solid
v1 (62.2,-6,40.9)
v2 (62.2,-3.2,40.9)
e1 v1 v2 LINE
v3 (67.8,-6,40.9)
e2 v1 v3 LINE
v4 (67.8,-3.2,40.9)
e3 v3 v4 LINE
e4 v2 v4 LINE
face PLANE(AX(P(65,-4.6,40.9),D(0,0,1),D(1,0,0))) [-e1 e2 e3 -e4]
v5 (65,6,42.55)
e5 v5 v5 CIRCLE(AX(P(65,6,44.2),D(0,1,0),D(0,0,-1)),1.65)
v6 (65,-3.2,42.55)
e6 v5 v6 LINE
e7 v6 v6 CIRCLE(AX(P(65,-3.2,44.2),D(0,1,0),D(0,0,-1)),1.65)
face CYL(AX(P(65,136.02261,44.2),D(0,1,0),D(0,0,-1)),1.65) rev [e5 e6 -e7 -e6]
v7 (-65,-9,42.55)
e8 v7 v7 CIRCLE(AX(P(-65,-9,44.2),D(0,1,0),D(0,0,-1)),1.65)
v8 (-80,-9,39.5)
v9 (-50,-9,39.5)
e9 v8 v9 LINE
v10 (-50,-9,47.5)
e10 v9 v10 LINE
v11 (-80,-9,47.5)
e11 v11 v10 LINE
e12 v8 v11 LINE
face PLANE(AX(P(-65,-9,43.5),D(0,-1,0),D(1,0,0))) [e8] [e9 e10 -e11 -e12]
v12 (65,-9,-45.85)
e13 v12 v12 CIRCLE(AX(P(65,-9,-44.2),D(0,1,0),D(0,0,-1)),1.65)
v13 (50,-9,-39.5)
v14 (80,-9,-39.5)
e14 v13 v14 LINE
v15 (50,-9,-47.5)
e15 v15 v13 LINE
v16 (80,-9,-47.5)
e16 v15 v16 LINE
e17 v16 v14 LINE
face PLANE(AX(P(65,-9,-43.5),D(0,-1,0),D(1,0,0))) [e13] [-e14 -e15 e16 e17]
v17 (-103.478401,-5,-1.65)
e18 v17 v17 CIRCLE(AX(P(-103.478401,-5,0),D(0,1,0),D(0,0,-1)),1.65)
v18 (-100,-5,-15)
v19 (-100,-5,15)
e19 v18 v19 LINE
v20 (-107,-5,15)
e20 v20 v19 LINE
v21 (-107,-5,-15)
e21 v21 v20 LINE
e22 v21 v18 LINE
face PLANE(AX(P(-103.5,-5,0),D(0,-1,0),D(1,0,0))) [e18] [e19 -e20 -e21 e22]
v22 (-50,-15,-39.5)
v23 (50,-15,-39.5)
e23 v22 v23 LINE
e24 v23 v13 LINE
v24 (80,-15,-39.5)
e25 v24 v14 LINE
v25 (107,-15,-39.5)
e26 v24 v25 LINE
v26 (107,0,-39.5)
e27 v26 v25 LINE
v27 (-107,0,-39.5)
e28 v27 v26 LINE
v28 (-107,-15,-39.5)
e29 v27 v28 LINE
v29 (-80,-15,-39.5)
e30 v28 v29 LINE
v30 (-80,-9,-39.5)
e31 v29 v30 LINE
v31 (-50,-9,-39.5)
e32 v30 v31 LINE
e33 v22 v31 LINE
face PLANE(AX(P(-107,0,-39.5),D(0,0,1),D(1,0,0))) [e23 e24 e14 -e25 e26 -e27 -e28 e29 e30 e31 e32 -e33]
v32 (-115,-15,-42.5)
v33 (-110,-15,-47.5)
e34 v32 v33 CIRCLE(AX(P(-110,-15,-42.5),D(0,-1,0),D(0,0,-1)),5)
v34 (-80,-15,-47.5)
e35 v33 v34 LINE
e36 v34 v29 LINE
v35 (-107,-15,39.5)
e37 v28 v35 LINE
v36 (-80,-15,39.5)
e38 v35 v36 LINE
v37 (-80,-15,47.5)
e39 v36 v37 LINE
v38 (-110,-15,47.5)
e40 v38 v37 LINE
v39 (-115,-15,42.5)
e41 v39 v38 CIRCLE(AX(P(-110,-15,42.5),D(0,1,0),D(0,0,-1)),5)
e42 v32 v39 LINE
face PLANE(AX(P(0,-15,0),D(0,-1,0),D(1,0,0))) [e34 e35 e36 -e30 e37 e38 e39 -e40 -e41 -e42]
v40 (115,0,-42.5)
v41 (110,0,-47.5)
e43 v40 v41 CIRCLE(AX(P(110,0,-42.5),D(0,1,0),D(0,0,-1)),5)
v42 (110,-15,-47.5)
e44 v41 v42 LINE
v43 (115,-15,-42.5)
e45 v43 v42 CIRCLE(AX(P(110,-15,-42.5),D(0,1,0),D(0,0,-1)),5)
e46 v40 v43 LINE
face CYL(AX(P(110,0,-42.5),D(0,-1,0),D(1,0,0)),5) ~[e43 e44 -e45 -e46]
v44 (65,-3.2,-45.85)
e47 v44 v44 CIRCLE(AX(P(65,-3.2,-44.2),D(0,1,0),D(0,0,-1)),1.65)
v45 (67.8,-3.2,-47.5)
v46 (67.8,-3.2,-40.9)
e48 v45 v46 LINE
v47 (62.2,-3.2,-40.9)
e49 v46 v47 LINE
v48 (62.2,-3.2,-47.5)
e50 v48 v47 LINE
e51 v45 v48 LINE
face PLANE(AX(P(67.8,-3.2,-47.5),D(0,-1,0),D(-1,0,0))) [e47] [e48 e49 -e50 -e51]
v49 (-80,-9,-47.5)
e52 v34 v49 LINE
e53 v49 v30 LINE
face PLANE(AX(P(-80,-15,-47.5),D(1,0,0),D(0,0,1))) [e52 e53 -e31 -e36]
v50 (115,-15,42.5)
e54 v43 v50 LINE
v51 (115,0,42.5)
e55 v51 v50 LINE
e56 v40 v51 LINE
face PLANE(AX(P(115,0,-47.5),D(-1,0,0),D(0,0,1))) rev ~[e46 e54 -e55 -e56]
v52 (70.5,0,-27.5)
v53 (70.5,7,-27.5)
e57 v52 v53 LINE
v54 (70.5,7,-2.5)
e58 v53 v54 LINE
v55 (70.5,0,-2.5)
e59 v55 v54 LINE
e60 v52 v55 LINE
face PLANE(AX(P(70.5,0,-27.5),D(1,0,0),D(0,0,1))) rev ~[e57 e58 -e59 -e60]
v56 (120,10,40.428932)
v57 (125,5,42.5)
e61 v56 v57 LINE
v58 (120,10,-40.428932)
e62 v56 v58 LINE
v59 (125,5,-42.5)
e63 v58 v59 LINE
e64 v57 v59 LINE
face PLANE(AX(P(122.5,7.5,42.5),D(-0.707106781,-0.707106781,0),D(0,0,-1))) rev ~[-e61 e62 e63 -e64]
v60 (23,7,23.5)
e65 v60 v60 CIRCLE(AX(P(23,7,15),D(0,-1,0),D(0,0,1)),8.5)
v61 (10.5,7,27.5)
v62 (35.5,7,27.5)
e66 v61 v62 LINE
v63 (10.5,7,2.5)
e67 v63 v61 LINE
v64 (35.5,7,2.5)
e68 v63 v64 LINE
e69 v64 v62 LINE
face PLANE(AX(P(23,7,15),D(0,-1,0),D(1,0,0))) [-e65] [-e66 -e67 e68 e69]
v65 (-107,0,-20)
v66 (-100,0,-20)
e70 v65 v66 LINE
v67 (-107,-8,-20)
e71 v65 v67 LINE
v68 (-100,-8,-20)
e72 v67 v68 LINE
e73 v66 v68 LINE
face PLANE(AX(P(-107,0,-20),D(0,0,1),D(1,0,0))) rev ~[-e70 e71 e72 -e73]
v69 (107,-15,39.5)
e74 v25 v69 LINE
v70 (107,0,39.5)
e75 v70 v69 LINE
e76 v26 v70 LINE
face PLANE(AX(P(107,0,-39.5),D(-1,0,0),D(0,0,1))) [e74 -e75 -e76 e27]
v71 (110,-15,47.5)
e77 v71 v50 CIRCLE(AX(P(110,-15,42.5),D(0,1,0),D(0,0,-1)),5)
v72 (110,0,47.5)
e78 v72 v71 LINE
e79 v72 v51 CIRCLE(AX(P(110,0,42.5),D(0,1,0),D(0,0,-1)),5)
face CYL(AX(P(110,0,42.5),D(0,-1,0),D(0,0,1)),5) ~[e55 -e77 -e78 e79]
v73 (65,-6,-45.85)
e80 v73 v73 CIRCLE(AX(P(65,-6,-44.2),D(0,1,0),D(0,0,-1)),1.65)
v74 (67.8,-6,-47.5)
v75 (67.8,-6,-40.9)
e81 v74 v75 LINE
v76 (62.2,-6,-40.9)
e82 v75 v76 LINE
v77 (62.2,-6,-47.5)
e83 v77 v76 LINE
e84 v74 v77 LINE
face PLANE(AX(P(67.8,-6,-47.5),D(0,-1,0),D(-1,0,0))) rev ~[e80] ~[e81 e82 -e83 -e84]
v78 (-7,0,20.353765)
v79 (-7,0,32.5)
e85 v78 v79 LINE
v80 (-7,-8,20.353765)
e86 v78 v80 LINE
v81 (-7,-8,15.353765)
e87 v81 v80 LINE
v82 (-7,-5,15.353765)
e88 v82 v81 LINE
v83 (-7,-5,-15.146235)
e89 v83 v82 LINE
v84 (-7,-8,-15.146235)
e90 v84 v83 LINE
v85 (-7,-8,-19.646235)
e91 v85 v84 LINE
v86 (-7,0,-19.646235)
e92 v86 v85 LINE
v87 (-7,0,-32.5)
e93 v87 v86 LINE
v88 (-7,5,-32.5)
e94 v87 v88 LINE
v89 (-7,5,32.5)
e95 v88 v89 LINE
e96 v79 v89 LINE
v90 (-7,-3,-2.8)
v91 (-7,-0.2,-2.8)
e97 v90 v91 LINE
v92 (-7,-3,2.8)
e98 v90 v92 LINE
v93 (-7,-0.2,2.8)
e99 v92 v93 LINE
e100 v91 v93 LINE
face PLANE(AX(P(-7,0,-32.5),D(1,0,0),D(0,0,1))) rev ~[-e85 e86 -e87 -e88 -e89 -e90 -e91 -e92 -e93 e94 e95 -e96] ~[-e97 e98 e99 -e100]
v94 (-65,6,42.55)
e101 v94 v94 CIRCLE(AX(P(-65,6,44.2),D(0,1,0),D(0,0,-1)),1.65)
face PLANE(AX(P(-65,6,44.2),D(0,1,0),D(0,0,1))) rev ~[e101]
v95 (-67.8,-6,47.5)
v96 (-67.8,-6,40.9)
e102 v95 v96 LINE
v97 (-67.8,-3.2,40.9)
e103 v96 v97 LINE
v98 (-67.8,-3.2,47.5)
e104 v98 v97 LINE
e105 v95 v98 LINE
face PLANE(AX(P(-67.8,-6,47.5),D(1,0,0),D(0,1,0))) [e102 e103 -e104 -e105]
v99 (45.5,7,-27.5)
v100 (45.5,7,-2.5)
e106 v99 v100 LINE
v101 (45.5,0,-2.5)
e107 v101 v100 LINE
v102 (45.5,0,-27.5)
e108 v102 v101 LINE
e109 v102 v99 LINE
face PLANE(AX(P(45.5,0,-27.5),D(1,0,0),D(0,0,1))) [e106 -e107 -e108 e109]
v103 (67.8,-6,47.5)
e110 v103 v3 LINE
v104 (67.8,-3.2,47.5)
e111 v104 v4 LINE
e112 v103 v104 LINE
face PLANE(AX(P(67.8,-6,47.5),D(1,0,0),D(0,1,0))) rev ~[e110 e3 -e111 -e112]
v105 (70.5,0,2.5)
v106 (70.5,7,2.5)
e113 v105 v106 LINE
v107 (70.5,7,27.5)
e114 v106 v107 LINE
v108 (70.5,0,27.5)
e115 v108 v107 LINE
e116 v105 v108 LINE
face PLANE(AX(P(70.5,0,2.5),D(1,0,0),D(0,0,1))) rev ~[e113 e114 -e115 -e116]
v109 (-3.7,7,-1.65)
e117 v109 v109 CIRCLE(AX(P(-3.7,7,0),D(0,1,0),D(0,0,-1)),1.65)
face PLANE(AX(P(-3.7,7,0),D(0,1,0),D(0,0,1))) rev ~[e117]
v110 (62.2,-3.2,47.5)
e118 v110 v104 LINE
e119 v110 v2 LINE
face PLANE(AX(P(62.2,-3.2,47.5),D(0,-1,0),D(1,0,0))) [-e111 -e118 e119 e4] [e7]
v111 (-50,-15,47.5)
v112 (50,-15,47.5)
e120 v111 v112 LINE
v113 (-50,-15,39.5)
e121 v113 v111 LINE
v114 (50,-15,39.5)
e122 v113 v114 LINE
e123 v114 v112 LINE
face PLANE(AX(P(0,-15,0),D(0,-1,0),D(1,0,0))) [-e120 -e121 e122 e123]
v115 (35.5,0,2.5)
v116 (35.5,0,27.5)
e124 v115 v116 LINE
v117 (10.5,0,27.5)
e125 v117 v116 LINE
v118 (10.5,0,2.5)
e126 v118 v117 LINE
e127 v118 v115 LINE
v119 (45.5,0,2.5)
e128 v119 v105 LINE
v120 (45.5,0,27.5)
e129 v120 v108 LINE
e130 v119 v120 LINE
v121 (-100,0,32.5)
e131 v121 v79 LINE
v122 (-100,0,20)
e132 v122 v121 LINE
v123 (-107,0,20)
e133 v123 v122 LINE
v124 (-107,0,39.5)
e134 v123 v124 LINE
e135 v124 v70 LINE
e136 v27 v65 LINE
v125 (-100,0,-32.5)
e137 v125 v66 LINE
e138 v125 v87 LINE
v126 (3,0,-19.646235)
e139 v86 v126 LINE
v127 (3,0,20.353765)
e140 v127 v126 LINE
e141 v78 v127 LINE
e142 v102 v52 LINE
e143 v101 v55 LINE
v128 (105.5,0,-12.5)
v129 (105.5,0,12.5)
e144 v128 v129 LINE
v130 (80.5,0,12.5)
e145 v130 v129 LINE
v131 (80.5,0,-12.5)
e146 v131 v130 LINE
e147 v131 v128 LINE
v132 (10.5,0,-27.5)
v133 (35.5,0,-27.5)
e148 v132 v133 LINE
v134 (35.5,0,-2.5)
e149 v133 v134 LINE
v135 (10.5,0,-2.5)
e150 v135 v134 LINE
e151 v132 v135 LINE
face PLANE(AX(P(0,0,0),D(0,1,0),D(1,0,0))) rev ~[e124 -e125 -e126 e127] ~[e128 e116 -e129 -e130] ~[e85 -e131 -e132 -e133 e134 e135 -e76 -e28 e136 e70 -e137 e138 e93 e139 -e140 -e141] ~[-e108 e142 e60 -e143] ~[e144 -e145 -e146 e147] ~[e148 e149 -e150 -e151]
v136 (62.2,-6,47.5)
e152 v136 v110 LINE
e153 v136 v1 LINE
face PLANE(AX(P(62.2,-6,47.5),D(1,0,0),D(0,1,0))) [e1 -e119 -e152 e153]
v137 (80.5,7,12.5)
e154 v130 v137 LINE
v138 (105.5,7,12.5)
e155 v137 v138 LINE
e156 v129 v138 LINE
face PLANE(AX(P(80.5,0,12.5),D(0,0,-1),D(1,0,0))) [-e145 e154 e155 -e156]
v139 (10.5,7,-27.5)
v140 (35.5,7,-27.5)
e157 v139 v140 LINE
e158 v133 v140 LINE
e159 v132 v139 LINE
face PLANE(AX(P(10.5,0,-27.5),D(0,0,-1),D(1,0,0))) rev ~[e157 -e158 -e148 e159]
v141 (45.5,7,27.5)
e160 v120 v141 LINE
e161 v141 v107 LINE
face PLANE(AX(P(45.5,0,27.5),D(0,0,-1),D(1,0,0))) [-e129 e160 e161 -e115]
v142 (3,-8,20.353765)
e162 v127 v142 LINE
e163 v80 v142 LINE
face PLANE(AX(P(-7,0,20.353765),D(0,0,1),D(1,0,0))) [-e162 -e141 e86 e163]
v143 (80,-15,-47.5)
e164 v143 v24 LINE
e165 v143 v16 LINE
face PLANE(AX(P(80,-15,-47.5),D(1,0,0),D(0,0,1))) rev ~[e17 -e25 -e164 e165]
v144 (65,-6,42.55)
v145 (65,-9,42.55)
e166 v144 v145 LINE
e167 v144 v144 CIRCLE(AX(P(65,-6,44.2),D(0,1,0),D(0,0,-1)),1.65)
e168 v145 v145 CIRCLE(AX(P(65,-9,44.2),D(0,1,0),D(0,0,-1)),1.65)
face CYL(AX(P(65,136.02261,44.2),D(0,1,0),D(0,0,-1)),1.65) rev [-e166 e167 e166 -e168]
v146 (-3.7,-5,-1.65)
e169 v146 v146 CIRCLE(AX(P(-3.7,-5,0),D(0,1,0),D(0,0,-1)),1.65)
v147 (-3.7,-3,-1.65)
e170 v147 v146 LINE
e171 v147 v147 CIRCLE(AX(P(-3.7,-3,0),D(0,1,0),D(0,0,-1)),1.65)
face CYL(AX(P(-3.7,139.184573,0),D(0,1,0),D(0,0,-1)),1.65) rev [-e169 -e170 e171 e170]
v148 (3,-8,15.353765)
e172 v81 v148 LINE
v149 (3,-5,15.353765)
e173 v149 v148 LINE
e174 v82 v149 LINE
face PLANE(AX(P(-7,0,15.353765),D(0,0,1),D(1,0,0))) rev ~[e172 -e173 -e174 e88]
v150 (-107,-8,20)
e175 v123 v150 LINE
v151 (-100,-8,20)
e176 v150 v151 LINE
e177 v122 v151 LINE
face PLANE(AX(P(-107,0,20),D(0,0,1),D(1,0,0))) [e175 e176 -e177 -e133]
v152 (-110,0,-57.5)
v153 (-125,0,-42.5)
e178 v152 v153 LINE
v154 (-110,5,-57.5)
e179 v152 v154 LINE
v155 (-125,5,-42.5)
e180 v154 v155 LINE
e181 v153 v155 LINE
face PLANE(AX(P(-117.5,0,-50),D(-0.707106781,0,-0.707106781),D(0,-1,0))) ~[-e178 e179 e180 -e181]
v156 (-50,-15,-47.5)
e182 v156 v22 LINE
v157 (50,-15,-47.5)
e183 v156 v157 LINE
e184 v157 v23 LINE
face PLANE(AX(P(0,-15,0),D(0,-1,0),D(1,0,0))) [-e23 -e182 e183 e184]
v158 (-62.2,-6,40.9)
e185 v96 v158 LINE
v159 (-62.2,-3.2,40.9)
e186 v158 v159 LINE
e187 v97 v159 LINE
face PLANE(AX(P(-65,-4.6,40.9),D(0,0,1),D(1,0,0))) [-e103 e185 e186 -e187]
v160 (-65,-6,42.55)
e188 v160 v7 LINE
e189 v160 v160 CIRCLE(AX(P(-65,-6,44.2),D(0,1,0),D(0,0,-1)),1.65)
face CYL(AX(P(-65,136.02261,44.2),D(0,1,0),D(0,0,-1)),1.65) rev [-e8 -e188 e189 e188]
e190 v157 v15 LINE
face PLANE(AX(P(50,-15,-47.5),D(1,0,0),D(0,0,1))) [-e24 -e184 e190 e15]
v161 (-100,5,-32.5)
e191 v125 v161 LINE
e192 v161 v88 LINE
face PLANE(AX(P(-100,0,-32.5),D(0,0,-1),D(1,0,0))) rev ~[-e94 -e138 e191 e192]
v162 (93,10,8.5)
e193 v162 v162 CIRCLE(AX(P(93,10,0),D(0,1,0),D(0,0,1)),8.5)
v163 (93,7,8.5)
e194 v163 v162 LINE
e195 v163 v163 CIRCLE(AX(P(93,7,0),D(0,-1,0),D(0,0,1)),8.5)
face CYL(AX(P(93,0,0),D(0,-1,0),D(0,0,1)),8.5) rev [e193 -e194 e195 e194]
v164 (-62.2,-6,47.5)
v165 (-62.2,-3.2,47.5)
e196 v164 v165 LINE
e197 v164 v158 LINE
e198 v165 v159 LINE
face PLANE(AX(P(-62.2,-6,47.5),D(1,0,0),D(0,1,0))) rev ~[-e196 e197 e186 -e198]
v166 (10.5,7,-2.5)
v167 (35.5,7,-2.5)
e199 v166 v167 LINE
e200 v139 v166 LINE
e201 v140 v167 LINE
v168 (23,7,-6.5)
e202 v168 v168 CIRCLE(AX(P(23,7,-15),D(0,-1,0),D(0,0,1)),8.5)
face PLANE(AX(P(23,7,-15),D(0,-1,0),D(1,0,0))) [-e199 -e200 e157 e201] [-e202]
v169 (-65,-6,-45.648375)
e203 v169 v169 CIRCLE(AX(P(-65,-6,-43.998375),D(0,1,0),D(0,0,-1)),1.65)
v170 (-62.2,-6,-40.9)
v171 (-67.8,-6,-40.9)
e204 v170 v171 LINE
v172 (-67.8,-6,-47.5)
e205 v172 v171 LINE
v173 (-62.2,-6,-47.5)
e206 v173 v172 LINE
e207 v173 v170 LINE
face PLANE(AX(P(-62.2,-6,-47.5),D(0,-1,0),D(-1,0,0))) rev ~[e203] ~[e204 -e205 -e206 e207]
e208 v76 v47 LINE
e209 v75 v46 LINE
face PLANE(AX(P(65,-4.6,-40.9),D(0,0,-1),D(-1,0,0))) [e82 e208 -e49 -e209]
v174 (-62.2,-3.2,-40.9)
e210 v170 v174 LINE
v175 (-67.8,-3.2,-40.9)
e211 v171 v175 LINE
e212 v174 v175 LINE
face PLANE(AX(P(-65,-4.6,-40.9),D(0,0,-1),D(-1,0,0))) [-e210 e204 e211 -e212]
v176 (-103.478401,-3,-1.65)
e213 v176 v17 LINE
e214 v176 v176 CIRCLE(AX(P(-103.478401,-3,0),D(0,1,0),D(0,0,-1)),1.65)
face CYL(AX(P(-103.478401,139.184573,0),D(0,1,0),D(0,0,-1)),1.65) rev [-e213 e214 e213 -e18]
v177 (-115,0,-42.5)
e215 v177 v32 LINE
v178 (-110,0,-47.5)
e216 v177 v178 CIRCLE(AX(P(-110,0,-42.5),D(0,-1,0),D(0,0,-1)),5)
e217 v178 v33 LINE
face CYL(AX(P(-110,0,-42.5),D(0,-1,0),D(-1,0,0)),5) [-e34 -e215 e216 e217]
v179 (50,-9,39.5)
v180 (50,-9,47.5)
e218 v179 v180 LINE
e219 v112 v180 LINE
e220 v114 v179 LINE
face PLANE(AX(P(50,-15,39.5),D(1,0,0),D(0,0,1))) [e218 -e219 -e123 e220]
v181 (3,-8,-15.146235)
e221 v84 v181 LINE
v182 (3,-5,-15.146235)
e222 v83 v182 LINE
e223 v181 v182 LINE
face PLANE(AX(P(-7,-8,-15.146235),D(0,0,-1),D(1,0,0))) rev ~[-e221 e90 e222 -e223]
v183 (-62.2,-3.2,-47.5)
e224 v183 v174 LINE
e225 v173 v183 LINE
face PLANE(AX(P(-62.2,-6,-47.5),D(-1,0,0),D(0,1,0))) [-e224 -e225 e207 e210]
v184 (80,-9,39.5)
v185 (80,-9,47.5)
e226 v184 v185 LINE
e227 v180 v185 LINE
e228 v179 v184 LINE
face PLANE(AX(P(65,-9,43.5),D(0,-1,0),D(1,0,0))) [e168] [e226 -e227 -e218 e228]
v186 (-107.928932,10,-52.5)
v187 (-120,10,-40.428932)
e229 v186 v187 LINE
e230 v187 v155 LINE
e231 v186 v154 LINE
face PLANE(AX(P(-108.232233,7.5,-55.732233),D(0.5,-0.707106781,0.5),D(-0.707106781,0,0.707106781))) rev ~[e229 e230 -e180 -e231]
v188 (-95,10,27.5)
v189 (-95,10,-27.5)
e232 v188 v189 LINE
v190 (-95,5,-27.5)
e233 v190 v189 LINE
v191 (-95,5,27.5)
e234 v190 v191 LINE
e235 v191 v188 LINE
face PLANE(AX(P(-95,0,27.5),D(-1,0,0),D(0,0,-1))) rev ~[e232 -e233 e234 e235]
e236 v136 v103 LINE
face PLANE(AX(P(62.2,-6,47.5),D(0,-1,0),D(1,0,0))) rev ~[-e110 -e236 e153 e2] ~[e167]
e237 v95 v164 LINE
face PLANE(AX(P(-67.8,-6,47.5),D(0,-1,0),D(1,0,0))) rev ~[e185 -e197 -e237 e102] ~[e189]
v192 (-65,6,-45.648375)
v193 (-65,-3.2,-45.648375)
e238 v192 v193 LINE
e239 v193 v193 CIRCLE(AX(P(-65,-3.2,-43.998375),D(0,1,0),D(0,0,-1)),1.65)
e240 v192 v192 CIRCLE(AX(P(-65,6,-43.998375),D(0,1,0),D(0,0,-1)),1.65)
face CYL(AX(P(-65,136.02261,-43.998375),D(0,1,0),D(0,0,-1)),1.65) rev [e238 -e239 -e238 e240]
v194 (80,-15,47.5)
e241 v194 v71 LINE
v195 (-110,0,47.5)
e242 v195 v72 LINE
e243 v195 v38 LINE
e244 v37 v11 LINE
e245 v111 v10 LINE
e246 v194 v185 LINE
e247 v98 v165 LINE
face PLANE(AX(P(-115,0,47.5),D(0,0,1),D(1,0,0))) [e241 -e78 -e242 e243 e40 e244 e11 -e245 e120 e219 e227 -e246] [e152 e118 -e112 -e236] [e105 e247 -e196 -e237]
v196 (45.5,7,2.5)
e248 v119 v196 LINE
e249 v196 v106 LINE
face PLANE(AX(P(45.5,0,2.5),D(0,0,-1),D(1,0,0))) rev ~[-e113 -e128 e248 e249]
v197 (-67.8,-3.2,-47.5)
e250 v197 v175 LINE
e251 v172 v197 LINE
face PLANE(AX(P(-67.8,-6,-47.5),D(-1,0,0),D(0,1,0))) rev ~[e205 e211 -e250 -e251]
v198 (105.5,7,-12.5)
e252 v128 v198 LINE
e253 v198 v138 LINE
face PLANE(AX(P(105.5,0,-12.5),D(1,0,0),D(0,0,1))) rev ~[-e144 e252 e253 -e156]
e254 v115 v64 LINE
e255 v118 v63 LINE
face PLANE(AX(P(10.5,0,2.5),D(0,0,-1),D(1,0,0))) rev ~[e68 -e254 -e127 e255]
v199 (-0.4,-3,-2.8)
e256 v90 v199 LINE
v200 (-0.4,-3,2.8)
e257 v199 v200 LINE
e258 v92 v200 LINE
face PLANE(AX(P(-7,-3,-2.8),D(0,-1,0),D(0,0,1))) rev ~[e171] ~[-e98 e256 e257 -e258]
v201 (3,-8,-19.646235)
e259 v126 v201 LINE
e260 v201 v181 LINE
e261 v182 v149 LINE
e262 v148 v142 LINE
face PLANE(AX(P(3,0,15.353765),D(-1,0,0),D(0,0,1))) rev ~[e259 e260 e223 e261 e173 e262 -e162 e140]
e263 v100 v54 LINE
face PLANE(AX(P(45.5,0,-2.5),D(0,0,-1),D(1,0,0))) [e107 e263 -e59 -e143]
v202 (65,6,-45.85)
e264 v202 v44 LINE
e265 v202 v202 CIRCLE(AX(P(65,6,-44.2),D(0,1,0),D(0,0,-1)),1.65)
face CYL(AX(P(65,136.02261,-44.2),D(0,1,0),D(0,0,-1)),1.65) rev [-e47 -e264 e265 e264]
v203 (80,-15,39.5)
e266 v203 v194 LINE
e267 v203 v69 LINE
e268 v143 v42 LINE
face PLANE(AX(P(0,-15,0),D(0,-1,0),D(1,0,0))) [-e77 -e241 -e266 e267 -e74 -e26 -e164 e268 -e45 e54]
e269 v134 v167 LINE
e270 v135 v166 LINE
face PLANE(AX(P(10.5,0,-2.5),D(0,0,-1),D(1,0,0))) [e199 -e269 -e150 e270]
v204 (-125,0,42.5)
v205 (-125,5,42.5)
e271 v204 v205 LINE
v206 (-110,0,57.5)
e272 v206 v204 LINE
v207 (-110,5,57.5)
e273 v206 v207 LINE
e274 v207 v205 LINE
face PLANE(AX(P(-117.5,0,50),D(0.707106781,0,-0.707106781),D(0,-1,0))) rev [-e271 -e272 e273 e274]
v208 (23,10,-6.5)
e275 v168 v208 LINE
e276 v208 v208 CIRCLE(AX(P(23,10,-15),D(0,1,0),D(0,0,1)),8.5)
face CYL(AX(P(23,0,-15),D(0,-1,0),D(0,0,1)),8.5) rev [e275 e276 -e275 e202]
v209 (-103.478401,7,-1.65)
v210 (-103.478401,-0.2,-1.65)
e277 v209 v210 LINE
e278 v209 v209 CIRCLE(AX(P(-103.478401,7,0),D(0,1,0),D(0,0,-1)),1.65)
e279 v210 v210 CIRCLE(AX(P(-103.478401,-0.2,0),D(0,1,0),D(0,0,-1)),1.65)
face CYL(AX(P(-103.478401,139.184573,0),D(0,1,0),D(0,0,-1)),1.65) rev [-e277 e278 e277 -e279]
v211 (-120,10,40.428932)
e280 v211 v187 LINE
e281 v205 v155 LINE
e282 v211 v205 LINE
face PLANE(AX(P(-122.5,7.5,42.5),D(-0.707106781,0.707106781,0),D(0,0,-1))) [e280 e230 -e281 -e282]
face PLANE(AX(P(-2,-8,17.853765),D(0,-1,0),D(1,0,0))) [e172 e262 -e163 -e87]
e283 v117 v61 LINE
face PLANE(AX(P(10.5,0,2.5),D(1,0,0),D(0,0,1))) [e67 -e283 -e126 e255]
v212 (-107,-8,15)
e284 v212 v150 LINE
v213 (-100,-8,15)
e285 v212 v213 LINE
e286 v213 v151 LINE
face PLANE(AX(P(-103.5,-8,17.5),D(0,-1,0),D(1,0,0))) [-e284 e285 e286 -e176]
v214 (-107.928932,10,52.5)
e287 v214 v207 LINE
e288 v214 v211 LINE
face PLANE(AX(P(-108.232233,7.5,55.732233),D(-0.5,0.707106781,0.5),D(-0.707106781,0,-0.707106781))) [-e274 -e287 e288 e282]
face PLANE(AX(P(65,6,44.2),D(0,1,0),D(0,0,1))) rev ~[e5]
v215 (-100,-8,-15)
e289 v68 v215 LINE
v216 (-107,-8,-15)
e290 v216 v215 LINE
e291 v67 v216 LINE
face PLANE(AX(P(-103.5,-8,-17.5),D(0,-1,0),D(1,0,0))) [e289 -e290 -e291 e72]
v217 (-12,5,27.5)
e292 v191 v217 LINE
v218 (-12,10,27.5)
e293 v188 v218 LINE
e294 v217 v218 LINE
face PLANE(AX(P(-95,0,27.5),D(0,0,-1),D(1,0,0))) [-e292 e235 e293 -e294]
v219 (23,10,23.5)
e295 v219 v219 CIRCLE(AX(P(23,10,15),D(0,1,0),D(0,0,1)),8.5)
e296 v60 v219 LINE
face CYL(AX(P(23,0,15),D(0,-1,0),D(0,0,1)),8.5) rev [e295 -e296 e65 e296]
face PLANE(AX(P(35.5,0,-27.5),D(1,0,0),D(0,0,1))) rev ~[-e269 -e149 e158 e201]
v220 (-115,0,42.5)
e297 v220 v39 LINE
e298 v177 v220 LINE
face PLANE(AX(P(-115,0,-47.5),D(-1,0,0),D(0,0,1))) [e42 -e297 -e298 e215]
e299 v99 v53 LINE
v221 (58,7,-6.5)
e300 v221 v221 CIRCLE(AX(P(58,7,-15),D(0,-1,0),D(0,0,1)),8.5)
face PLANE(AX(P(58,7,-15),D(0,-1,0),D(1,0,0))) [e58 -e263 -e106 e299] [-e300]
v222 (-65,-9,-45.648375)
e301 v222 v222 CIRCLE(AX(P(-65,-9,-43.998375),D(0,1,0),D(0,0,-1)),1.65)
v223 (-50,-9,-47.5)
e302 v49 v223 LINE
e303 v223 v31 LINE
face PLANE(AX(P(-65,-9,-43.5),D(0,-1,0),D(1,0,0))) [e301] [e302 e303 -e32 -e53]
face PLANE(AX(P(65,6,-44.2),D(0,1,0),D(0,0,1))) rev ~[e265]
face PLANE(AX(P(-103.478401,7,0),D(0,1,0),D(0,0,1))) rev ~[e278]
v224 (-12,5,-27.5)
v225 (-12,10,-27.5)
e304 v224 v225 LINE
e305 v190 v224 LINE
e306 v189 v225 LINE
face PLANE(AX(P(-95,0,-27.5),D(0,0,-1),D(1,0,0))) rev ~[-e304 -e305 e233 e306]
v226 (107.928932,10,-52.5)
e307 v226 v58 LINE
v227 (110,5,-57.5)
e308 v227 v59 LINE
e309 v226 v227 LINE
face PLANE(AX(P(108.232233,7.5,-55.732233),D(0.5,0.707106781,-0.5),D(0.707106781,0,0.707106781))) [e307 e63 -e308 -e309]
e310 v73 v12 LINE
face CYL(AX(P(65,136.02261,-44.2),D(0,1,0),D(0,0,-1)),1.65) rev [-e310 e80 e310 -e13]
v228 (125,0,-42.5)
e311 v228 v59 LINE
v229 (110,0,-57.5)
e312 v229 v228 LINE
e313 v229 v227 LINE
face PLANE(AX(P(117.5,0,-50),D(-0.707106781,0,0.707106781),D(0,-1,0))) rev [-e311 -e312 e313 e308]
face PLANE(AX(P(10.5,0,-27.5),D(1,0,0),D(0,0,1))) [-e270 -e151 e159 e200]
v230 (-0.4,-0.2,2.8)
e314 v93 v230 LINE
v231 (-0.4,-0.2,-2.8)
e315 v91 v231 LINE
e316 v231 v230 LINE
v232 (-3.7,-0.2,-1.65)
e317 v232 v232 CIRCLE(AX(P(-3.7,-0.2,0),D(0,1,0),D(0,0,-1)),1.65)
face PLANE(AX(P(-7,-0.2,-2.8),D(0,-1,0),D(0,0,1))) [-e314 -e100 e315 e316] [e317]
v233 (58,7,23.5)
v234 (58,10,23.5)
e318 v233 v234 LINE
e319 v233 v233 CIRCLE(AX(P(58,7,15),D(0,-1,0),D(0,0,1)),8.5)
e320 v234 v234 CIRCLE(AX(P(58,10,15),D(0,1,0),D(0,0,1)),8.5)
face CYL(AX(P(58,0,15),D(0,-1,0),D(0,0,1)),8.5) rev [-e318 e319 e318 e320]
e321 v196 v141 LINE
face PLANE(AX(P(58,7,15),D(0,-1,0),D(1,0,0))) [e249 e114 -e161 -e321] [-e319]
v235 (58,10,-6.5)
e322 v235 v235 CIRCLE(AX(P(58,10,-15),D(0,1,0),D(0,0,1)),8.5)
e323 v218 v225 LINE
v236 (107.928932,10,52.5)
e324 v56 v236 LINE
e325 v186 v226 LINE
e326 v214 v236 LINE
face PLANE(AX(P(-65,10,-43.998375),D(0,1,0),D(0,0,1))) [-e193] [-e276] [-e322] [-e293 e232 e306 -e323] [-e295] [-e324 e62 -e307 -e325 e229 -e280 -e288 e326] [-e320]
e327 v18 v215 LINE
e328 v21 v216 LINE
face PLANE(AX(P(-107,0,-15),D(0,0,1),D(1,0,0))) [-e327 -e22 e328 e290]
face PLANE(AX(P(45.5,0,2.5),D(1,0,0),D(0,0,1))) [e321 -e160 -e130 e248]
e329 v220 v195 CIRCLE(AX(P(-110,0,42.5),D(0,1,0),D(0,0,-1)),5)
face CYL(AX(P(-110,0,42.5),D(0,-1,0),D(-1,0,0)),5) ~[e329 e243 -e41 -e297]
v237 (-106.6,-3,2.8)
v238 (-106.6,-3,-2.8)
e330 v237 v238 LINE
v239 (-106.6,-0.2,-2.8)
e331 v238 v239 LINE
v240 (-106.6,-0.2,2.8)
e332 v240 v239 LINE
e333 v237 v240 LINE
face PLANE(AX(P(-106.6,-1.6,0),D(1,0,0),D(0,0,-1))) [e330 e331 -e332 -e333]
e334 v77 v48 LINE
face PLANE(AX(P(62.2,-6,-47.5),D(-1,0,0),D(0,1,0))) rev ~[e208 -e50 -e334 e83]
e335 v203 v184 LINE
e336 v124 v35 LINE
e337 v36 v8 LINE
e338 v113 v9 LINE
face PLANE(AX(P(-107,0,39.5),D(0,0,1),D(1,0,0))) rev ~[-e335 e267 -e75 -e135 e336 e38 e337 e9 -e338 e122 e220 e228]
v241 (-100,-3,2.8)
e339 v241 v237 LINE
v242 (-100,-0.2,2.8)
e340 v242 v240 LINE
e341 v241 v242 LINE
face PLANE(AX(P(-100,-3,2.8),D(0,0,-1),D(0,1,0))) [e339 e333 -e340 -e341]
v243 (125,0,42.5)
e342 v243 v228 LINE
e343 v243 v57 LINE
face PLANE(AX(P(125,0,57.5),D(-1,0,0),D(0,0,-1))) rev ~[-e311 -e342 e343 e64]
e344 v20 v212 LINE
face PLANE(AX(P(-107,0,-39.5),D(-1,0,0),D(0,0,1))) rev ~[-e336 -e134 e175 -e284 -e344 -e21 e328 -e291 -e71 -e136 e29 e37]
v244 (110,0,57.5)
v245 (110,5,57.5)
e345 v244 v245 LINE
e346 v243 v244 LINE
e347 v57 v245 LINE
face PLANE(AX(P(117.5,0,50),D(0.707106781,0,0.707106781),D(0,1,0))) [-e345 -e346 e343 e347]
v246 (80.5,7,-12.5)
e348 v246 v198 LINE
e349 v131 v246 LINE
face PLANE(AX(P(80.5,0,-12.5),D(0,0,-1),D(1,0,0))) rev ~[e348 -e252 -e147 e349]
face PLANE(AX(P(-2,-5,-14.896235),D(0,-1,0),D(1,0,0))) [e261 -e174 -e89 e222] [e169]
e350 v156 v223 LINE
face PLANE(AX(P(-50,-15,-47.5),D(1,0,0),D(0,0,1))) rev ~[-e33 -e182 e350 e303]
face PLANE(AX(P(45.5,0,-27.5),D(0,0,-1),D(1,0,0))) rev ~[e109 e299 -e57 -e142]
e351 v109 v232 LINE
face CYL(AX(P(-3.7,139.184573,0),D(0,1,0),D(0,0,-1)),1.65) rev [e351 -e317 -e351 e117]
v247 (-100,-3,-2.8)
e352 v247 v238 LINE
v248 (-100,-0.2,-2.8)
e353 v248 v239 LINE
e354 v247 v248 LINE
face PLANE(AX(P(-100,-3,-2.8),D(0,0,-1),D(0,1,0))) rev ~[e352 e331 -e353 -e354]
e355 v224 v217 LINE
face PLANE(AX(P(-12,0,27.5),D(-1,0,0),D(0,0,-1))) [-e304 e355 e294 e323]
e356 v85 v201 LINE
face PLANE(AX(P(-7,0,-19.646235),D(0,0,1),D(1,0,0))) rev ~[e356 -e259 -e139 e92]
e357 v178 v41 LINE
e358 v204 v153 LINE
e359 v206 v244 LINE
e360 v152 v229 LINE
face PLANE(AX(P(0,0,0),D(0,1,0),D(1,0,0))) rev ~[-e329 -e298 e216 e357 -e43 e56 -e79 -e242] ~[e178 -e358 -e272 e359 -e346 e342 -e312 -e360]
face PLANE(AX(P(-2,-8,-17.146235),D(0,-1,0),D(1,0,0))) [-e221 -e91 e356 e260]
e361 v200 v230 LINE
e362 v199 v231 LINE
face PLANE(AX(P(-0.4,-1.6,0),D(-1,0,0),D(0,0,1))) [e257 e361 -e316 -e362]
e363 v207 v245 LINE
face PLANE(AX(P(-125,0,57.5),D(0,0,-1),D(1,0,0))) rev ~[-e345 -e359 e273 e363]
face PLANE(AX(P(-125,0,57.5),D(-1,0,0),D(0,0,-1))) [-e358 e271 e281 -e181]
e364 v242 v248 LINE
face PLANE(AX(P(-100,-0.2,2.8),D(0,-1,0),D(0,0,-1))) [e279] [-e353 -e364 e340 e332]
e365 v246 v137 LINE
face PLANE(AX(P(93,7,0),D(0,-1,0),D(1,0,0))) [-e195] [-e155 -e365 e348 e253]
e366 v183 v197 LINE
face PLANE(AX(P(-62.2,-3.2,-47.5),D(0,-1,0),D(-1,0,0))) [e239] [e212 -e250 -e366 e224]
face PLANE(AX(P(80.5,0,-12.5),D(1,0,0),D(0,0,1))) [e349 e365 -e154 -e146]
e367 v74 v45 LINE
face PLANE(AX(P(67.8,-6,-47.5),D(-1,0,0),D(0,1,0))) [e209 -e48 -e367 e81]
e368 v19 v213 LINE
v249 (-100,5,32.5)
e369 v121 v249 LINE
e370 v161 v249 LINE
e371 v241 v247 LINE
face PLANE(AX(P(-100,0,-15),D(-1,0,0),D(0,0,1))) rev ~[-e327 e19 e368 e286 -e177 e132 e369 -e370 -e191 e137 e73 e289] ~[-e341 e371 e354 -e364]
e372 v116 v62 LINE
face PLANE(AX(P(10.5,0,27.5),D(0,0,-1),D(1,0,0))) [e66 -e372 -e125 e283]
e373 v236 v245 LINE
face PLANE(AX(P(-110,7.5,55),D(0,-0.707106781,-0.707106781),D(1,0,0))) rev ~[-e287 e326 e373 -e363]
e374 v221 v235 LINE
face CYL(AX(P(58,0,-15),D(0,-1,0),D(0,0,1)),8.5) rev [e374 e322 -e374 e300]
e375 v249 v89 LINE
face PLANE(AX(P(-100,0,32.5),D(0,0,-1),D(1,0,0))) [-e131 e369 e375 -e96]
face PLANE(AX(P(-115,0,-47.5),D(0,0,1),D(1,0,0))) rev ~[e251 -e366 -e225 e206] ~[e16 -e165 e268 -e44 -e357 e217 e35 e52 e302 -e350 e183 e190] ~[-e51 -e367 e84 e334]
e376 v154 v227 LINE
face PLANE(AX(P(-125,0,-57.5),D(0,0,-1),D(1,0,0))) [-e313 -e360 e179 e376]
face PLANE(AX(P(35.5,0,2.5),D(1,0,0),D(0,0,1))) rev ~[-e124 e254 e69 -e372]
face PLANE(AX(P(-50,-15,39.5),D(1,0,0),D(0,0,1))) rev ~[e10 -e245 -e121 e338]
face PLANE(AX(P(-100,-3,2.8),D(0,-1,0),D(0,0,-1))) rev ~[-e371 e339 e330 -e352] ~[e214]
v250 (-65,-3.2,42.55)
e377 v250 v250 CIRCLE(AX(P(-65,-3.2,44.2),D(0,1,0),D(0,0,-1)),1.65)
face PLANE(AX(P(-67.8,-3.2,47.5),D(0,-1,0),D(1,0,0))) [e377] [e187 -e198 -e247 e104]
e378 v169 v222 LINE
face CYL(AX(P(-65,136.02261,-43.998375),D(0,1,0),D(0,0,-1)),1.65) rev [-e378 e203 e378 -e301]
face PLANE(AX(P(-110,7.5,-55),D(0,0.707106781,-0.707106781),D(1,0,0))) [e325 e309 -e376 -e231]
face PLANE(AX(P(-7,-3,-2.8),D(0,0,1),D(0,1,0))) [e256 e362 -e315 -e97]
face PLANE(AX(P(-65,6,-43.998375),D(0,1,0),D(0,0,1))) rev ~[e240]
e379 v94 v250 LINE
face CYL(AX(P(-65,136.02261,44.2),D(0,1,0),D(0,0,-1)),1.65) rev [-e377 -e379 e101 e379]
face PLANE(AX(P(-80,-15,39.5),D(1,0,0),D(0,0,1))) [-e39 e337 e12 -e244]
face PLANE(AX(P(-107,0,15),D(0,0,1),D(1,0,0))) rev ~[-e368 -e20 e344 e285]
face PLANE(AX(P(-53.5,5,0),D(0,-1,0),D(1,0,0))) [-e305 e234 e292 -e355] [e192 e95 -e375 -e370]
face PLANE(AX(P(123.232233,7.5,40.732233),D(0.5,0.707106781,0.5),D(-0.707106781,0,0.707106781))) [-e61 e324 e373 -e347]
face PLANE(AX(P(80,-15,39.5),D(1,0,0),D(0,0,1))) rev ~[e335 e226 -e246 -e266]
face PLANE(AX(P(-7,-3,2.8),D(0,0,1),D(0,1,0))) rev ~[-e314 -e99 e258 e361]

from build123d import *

# Parameters (mm, degrees)
SKETCH1_W                = 250
SKETCH1_H                = 115
SKETCH1_R                = 8.5
SKETCH1_W_2              = 83
SKETCH1_H_2              = 55
BOSS_EXTRUDE1_DEPTH      = 10
SKETCH2_W                = 230
SKETCH2_H                = 95
SKETCH2_W_2              = 214
SKETCH2_H_2              = 79
BOSS_EXTRUDE2_DEPTH      = 15
SKETCH3_W                = 25
SKETCH3_H                = 25
CUT_EXTRUDE1_DEPTH       = 7
SKETCH4_W                = 93
SKETCH4_H                = 65
SKETCH4_W_2              = 83
SKETCH4_H_2              = 55
CUT_EXTRUDE2_DEPTH       = 5
SKETCH5_W                = 7
SKETCH5_H                = 5
SKETCH5_W_2              = 10
BOSS_EXTRUDE3_DEPTH      = 8
SKETCH7_W                = 7
SKETCH7_H                = 30
SKETCH7_W_2              = 10
BOSS_EXTRUDE4_DEPTH      = 5
SKETCH8_W                = 5.6
SKETCH8_H                = 2.8
CUT_EXTRUDE7_DEPTH       = 6.6
SKETCH9_W                = 5.6
SKETCH9_H                = 2.8
CUT_EXTRUDE8_DEPTH       = 6.6
CUT_EXTRUDE9_DEPTH       = 139.38457284
CUT_EXTRUDE9_DEPTH_BACK  = 139.38457284
SKETCH10_R               = 1.65
SKETCH11_R               = 1.65
BOSS_EXTRUDE5_DEPTH      = 3
SKETCH12_W               = 10
SKETCH12_H               = 0.5
CUT_EXTRUDE10_DEPTH      = 3
SKETCH13_W               = 30
SKETCH13_H               = 8
CUT_EXTRUDE11_DEPTH      = 6
SKETCH14_W               = 5.6
SKETCH14_H               = 2.8
CUT_EXTRUDE12_DEPTH      = 6.6
CUT_EXTRUDE13_DEPTH      = 139.222610307
CUT_EXTRUDE13_DEPTH_BACK = 139.222610307
SKETCH15_R               = 1.65
SKETCH16_W               = 5.6
SKETCH16_H               = 2.8
CUT_EXTRUDE14_DEPTH      = 6.6
CUT_EXTRUDE15_DEPTH      = 139.222610307
CUT_EXTRUDE15_DEPTH_BACK = 139.222610307
SKETCH17_R               = 1.65
SKETCH18_R               = 1.65
BOSS_EXTRUDE6_DEPTH      = 4
CHAMFER1_SIZE            = 15
CHAMFER2_SIZE            = 5
FILLET1_R                = 5


with BuildPart() as part:
    # Sketch1 → Boss-Extrude1 (new body)
    with BuildSketch(Plane(origin=(0, 0, 0), x_dir=(1, 0, 0), z_dir=(0, 1, 0))):
        Rectangle(SKETCH1_W, SKETCH1_H)
        with Locations(Location((23, 15, 0), (0, 0, 270))):
            Circle(SKETCH1_R, mode=Mode.SUBTRACT)
        with Locations(Location((58, 15, 0), (0, 0, 270))):
            Circle(SKETCH1_R, mode=Mode.SUBTRACT)
        with Locations(Location((23, -15, 0), (0, 0, 270))):
            Circle(SKETCH1_R, mode=Mode.SUBTRACT)
        with Locations(Location((58, -15, 0), (0, 0, 270))):
            Circle(SKETCH1_R, mode=Mode.SUBTRACT)
        with Locations(Location((93, 0, 0), (0, 0, 270))):
            Circle(SKETCH1_R, mode=Mode.SUBTRACT)
        with Locations((-53.5, 0)):
            Rectangle(SKETCH1_W_2, SKETCH1_H_2, mode=Mode.SUBTRACT)
    extrude(amount=BOSS_EXTRUDE1_DEPTH)

    # Sketch2 → Boss-Extrude2 (add)
    with BuildSketch(Plane.XZ):
        Rectangle(SKETCH2_W, SKETCH2_H)
        Rectangle(SKETCH2_W_2, SKETCH2_H_2, mode=Mode.SUBTRACT)
    extrude(amount=BOSS_EXTRUDE2_DEPTH)

    # Sketch3 → Cut-Extrude1 (cut)
    with BuildSketch(Plane.XZ):
        with Locations((23, 15)):
            Rectangle(SKETCH3_W, SKETCH3_H)
        with Locations((58, 15)):
            Rectangle(SKETCH3_W, SKETCH3_H)
        with Locations((23, -15)):
            Rectangle(SKETCH3_W, SKETCH3_H)
        with Locations((58, -15)):
            Rectangle(SKETCH3_W, SKETCH3_H)
        with Locations((93, 0)):
            Rectangle(SKETCH3_W, SKETCH3_H)
    extrude(amount=-CUT_EXTRUDE1_DEPTH, mode=Mode.SUBTRACT)

    # Sketch4 → Cut-Extrude2 (cut)
    with BuildSketch(Plane.XZ):
        with Locations((-53.5, 0)):
            Rectangle(SKETCH4_W, SKETCH4_H)
        with Locations((-53.5, 0)):
            Rectangle(SKETCH4_W_2, SKETCH4_H_2, mode=Mode.SUBTRACT)
    extrude(amount=-CUT_EXTRUDE2_DEPTH, mode=Mode.SUBTRACT)

    # Sketch5 → Boss-Extrude3 (add)
    with BuildSketch(Plane.XZ):
        with Locations((-103.5, 17.5)):
            Rectangle(SKETCH5_W, SKETCH5_H)
        with Locations((-103.5, -17.5)):
            Rectangle(SKETCH5_W, SKETCH5_H)
        with Locations((-2, 17.853765276)):
            Rectangle(SKETCH5_W_2, SKETCH5_H)
        with Locations((-2, -17.146234724)):
            Rectangle(SKETCH5_W_2, SKETCH5_H)
    extrude(amount=BOSS_EXTRUDE3_DEPTH)

    # Sketch7 → Boss-Extrude4 (add)
    with BuildSketch(Plane.XZ):
        with Locations((-103.5, 0)):
            Rectangle(SKETCH7_W, SKETCH7_H)
        with Locations((-2, 0.353765276)):
            Rectangle(SKETCH7_W_2, SKETCH7_H)
    extrude(amount=BOSS_EXTRUDE4_DEPTH)

    # Sketch8 → Cut-Extrude7 (cut)
    with BuildSketch(Plane.ZY.offset(7)):
        with Locations((0, -1.6)):
            Rectangle(SKETCH8_W, SKETCH8_H)
    extrude(amount=-CUT_EXTRUDE7_DEPTH, mode=Mode.SUBTRACT)

    # Sketch9 → Cut-Extrude8 (cut)
    with BuildSketch(Plane(origin=(-100, 0, 0), x_dir=(0, 0, -1), z_dir=(1, 0, 0))):
        with Locations((0, -1.6)):
            Rectangle(SKETCH9_W, SKETCH9_H)
    extrude(amount=-CUT_EXTRUDE8_DEPTH, mode=Mode.SUBTRACT)

    # Sketch10 → Cut-Extrude9 (cut, two sides: drawn at the far end of the back side and taken through both)
    with BuildSketch(Plane.XZ.offset(0.2).offset(-CUT_EXTRUDE9_DEPTH_BACK)):
        with Locations(Location((-3.7, 0, 0), (0, 0, 270))):
            Circle(SKETCH10_R)
        with Locations(Location((-103.478401375, 0, 0), (0, 0, 270))):
            Circle(SKETCH10_R)
    extrude(amount=CUT_EXTRUDE9_DEPTH + CUT_EXTRUDE9_DEPTH_BACK, mode=Mode.SUBTRACT)

    # Sketch11 → Boss-Extrude5 (add)
    with BuildSketch(Plane(origin=(0, 10, 0), x_dir=(1, 0, 0), z_dir=(0, 1, 0))):
        with Locations(Location((-3.7, 0, 0), (0, 0, 270))):
            Circle(SKETCH11_R)
        with Locations(Location((-103.478401375, 0, 0), (0, 0, 270))):
            Circle(SKETCH11_R)
    extrude(amount=-BOSS_EXTRUDE5_DEPTH)

    # Sketch12 → Cut-Extrude10 (cut)
    with BuildSketch(Plane.XZ.offset(8)):
        with Locations((-2, -14.896234724)):
            Rectangle(SKETCH12_W, SKETCH12_H)
    extrude(amount=-CUT_EXTRUDE10_DEPTH, mode=Mode.SUBTRACT)

    # Sketch13 → Cut-Extrude11 (cut)
    with BuildSketch(Plane.XZ.offset(15)):
        with Locations((-65, 43.5)):
            Rectangle(SKETCH13_W, SKETCH13_H)
        with Locations((65, 43.5)):
            Rectangle(SKETCH13_W, SKETCH13_H)
        with Locations((-65, -43.5)):
            Rectangle(SKETCH13_W, SKETCH13_H)
        with Locations((65, -43.5)):
            Rectangle(SKETCH13_W, SKETCH13_H)
    extrude(amount=-CUT_EXTRUDE11_DEPTH, mode=Mode.SUBTRACT)

    # Sketch14 → Cut-Extrude12 (cut)
    with BuildSketch(Plane.XY.offset(47.5)):
        with Locations((-65, -4.6)):
            Rectangle(SKETCH14_W, SKETCH14_H)
        with Locations((65, -4.6)):
            Rectangle(SKETCH14_W, SKETCH14_H)
    extrude(amount=-CUT_EXTRUDE12_DEPTH, mode=Mode.SUBTRACT)

    # Sketch15 → Cut-Extrude13 (cut, two sides: drawn at the far end of the back side and taken through both)
    with BuildSketch(Plane.XZ.offset(3.2).offset(-CUT_EXTRUDE13_DEPTH_BACK)):
        with Locations(Location((-65, 44.2, 0), (0, 0, 270))):
            Circle(SKETCH15_R)
        with Locations(Location((65, 44.2, 0), (0, 0, 270))):
            Circle(SKETCH15_R)
    extrude(amount=CUT_EXTRUDE13_DEPTH + CUT_EXTRUDE13_DEPTH_BACK, mode=Mode.SUBTRACT)

    # Sketch16 → Cut-Extrude14 (cut)
    with BuildSketch(Plane(origin=(0, 0, -47.5), x_dir=(-1, 0, 0), z_dir=(0, 0, -1))):
        with Locations((-65, -4.6)):
            Rectangle(SKETCH16_W, SKETCH16_H)
        with Locations((65, -4.6)):
            Rectangle(SKETCH16_W, SKETCH16_H)
    extrude(amount=-CUT_EXTRUDE14_DEPTH, mode=Mode.SUBTRACT)

    # Sketch17 → Cut-Extrude15 (cut, two sides: drawn at the far end of the back side and taken through both)
    with BuildSketch(Plane.XZ.offset(3.2).offset(-CUT_EXTRUDE15_DEPTH_BACK)):
        with Locations(Location((65, -44.2, 0), (0, 0, 270))):
            Circle(SKETCH17_R)
        with Locations(Location((-65, -43.998374959, 0), (0, 0, 270))):
            Circle(SKETCH17_R)
    extrude(amount=CUT_EXTRUDE15_DEPTH + CUT_EXTRUDE15_DEPTH_BACK, mode=Mode.SUBTRACT)

    # Sketch18 → Boss-Extrude6 (add)
    with BuildSketch(Plane(origin=(0, 10, 0), x_dir=(1, 0, 0), z_dir=(0, 1, 0))):
        with Locations(Location((-65, 43.998374959, 0), (0, 0, 270))):
            Circle(SKETCH18_R)
        with Locations(Location((65, 44.2, 0), (0, 0, 270))):
            Circle(SKETCH18_R)
        with Locations(Location((-65, -44.2, 0), (0, 0, 270))):
            Circle(SKETCH18_R)
        with Locations(Location((65, -44.2, 0), (0, 0, 270))):
            Circle(SKETCH18_R)
    extrude(amount=-BOSS_EXTRUDE6_DEPTH)

    # Chamfer1
    chamfer1_edges = [part.edges().sort_by_distance(p)[0] for p in [
        (125, 5, 57.5),
        (-125, 5, 57.5),
        (-125, 5, -57.5),
        (125, 5, -57.5),
    ]]
    chamfer(chamfer1_edges, length=CHAMFER1_SIZE)

    # Chamfer2
    chamfer2_edges = [part.edges().sort_by_distance(p)[0] for p in [
        (-125, 10, 0),
        (0, 10, -57.5),
        (125, 10, 0),
        (0, 10, 57.5),
        (-117.5, 10, 50),
        (117.5, 10, 50),
        (117.5, 10, -50),
        (-117.5, 10, -50),
    ]]
    chamfer(chamfer2_edges, length=CHAMFER2_SIZE)

    # Fillet1
    fillet1_edges = [part.edges().sort_by_distance(p)[0] for p in [
        (115, -7.5, -47.5),
        (115, -7.5, 47.5),
        (-115, -7.5, 47.5),
        (-115, -7.5, -47.5),
    ]]
    fillet(fillet1_edges, radius=FILLET1_R)


solid = part.part
